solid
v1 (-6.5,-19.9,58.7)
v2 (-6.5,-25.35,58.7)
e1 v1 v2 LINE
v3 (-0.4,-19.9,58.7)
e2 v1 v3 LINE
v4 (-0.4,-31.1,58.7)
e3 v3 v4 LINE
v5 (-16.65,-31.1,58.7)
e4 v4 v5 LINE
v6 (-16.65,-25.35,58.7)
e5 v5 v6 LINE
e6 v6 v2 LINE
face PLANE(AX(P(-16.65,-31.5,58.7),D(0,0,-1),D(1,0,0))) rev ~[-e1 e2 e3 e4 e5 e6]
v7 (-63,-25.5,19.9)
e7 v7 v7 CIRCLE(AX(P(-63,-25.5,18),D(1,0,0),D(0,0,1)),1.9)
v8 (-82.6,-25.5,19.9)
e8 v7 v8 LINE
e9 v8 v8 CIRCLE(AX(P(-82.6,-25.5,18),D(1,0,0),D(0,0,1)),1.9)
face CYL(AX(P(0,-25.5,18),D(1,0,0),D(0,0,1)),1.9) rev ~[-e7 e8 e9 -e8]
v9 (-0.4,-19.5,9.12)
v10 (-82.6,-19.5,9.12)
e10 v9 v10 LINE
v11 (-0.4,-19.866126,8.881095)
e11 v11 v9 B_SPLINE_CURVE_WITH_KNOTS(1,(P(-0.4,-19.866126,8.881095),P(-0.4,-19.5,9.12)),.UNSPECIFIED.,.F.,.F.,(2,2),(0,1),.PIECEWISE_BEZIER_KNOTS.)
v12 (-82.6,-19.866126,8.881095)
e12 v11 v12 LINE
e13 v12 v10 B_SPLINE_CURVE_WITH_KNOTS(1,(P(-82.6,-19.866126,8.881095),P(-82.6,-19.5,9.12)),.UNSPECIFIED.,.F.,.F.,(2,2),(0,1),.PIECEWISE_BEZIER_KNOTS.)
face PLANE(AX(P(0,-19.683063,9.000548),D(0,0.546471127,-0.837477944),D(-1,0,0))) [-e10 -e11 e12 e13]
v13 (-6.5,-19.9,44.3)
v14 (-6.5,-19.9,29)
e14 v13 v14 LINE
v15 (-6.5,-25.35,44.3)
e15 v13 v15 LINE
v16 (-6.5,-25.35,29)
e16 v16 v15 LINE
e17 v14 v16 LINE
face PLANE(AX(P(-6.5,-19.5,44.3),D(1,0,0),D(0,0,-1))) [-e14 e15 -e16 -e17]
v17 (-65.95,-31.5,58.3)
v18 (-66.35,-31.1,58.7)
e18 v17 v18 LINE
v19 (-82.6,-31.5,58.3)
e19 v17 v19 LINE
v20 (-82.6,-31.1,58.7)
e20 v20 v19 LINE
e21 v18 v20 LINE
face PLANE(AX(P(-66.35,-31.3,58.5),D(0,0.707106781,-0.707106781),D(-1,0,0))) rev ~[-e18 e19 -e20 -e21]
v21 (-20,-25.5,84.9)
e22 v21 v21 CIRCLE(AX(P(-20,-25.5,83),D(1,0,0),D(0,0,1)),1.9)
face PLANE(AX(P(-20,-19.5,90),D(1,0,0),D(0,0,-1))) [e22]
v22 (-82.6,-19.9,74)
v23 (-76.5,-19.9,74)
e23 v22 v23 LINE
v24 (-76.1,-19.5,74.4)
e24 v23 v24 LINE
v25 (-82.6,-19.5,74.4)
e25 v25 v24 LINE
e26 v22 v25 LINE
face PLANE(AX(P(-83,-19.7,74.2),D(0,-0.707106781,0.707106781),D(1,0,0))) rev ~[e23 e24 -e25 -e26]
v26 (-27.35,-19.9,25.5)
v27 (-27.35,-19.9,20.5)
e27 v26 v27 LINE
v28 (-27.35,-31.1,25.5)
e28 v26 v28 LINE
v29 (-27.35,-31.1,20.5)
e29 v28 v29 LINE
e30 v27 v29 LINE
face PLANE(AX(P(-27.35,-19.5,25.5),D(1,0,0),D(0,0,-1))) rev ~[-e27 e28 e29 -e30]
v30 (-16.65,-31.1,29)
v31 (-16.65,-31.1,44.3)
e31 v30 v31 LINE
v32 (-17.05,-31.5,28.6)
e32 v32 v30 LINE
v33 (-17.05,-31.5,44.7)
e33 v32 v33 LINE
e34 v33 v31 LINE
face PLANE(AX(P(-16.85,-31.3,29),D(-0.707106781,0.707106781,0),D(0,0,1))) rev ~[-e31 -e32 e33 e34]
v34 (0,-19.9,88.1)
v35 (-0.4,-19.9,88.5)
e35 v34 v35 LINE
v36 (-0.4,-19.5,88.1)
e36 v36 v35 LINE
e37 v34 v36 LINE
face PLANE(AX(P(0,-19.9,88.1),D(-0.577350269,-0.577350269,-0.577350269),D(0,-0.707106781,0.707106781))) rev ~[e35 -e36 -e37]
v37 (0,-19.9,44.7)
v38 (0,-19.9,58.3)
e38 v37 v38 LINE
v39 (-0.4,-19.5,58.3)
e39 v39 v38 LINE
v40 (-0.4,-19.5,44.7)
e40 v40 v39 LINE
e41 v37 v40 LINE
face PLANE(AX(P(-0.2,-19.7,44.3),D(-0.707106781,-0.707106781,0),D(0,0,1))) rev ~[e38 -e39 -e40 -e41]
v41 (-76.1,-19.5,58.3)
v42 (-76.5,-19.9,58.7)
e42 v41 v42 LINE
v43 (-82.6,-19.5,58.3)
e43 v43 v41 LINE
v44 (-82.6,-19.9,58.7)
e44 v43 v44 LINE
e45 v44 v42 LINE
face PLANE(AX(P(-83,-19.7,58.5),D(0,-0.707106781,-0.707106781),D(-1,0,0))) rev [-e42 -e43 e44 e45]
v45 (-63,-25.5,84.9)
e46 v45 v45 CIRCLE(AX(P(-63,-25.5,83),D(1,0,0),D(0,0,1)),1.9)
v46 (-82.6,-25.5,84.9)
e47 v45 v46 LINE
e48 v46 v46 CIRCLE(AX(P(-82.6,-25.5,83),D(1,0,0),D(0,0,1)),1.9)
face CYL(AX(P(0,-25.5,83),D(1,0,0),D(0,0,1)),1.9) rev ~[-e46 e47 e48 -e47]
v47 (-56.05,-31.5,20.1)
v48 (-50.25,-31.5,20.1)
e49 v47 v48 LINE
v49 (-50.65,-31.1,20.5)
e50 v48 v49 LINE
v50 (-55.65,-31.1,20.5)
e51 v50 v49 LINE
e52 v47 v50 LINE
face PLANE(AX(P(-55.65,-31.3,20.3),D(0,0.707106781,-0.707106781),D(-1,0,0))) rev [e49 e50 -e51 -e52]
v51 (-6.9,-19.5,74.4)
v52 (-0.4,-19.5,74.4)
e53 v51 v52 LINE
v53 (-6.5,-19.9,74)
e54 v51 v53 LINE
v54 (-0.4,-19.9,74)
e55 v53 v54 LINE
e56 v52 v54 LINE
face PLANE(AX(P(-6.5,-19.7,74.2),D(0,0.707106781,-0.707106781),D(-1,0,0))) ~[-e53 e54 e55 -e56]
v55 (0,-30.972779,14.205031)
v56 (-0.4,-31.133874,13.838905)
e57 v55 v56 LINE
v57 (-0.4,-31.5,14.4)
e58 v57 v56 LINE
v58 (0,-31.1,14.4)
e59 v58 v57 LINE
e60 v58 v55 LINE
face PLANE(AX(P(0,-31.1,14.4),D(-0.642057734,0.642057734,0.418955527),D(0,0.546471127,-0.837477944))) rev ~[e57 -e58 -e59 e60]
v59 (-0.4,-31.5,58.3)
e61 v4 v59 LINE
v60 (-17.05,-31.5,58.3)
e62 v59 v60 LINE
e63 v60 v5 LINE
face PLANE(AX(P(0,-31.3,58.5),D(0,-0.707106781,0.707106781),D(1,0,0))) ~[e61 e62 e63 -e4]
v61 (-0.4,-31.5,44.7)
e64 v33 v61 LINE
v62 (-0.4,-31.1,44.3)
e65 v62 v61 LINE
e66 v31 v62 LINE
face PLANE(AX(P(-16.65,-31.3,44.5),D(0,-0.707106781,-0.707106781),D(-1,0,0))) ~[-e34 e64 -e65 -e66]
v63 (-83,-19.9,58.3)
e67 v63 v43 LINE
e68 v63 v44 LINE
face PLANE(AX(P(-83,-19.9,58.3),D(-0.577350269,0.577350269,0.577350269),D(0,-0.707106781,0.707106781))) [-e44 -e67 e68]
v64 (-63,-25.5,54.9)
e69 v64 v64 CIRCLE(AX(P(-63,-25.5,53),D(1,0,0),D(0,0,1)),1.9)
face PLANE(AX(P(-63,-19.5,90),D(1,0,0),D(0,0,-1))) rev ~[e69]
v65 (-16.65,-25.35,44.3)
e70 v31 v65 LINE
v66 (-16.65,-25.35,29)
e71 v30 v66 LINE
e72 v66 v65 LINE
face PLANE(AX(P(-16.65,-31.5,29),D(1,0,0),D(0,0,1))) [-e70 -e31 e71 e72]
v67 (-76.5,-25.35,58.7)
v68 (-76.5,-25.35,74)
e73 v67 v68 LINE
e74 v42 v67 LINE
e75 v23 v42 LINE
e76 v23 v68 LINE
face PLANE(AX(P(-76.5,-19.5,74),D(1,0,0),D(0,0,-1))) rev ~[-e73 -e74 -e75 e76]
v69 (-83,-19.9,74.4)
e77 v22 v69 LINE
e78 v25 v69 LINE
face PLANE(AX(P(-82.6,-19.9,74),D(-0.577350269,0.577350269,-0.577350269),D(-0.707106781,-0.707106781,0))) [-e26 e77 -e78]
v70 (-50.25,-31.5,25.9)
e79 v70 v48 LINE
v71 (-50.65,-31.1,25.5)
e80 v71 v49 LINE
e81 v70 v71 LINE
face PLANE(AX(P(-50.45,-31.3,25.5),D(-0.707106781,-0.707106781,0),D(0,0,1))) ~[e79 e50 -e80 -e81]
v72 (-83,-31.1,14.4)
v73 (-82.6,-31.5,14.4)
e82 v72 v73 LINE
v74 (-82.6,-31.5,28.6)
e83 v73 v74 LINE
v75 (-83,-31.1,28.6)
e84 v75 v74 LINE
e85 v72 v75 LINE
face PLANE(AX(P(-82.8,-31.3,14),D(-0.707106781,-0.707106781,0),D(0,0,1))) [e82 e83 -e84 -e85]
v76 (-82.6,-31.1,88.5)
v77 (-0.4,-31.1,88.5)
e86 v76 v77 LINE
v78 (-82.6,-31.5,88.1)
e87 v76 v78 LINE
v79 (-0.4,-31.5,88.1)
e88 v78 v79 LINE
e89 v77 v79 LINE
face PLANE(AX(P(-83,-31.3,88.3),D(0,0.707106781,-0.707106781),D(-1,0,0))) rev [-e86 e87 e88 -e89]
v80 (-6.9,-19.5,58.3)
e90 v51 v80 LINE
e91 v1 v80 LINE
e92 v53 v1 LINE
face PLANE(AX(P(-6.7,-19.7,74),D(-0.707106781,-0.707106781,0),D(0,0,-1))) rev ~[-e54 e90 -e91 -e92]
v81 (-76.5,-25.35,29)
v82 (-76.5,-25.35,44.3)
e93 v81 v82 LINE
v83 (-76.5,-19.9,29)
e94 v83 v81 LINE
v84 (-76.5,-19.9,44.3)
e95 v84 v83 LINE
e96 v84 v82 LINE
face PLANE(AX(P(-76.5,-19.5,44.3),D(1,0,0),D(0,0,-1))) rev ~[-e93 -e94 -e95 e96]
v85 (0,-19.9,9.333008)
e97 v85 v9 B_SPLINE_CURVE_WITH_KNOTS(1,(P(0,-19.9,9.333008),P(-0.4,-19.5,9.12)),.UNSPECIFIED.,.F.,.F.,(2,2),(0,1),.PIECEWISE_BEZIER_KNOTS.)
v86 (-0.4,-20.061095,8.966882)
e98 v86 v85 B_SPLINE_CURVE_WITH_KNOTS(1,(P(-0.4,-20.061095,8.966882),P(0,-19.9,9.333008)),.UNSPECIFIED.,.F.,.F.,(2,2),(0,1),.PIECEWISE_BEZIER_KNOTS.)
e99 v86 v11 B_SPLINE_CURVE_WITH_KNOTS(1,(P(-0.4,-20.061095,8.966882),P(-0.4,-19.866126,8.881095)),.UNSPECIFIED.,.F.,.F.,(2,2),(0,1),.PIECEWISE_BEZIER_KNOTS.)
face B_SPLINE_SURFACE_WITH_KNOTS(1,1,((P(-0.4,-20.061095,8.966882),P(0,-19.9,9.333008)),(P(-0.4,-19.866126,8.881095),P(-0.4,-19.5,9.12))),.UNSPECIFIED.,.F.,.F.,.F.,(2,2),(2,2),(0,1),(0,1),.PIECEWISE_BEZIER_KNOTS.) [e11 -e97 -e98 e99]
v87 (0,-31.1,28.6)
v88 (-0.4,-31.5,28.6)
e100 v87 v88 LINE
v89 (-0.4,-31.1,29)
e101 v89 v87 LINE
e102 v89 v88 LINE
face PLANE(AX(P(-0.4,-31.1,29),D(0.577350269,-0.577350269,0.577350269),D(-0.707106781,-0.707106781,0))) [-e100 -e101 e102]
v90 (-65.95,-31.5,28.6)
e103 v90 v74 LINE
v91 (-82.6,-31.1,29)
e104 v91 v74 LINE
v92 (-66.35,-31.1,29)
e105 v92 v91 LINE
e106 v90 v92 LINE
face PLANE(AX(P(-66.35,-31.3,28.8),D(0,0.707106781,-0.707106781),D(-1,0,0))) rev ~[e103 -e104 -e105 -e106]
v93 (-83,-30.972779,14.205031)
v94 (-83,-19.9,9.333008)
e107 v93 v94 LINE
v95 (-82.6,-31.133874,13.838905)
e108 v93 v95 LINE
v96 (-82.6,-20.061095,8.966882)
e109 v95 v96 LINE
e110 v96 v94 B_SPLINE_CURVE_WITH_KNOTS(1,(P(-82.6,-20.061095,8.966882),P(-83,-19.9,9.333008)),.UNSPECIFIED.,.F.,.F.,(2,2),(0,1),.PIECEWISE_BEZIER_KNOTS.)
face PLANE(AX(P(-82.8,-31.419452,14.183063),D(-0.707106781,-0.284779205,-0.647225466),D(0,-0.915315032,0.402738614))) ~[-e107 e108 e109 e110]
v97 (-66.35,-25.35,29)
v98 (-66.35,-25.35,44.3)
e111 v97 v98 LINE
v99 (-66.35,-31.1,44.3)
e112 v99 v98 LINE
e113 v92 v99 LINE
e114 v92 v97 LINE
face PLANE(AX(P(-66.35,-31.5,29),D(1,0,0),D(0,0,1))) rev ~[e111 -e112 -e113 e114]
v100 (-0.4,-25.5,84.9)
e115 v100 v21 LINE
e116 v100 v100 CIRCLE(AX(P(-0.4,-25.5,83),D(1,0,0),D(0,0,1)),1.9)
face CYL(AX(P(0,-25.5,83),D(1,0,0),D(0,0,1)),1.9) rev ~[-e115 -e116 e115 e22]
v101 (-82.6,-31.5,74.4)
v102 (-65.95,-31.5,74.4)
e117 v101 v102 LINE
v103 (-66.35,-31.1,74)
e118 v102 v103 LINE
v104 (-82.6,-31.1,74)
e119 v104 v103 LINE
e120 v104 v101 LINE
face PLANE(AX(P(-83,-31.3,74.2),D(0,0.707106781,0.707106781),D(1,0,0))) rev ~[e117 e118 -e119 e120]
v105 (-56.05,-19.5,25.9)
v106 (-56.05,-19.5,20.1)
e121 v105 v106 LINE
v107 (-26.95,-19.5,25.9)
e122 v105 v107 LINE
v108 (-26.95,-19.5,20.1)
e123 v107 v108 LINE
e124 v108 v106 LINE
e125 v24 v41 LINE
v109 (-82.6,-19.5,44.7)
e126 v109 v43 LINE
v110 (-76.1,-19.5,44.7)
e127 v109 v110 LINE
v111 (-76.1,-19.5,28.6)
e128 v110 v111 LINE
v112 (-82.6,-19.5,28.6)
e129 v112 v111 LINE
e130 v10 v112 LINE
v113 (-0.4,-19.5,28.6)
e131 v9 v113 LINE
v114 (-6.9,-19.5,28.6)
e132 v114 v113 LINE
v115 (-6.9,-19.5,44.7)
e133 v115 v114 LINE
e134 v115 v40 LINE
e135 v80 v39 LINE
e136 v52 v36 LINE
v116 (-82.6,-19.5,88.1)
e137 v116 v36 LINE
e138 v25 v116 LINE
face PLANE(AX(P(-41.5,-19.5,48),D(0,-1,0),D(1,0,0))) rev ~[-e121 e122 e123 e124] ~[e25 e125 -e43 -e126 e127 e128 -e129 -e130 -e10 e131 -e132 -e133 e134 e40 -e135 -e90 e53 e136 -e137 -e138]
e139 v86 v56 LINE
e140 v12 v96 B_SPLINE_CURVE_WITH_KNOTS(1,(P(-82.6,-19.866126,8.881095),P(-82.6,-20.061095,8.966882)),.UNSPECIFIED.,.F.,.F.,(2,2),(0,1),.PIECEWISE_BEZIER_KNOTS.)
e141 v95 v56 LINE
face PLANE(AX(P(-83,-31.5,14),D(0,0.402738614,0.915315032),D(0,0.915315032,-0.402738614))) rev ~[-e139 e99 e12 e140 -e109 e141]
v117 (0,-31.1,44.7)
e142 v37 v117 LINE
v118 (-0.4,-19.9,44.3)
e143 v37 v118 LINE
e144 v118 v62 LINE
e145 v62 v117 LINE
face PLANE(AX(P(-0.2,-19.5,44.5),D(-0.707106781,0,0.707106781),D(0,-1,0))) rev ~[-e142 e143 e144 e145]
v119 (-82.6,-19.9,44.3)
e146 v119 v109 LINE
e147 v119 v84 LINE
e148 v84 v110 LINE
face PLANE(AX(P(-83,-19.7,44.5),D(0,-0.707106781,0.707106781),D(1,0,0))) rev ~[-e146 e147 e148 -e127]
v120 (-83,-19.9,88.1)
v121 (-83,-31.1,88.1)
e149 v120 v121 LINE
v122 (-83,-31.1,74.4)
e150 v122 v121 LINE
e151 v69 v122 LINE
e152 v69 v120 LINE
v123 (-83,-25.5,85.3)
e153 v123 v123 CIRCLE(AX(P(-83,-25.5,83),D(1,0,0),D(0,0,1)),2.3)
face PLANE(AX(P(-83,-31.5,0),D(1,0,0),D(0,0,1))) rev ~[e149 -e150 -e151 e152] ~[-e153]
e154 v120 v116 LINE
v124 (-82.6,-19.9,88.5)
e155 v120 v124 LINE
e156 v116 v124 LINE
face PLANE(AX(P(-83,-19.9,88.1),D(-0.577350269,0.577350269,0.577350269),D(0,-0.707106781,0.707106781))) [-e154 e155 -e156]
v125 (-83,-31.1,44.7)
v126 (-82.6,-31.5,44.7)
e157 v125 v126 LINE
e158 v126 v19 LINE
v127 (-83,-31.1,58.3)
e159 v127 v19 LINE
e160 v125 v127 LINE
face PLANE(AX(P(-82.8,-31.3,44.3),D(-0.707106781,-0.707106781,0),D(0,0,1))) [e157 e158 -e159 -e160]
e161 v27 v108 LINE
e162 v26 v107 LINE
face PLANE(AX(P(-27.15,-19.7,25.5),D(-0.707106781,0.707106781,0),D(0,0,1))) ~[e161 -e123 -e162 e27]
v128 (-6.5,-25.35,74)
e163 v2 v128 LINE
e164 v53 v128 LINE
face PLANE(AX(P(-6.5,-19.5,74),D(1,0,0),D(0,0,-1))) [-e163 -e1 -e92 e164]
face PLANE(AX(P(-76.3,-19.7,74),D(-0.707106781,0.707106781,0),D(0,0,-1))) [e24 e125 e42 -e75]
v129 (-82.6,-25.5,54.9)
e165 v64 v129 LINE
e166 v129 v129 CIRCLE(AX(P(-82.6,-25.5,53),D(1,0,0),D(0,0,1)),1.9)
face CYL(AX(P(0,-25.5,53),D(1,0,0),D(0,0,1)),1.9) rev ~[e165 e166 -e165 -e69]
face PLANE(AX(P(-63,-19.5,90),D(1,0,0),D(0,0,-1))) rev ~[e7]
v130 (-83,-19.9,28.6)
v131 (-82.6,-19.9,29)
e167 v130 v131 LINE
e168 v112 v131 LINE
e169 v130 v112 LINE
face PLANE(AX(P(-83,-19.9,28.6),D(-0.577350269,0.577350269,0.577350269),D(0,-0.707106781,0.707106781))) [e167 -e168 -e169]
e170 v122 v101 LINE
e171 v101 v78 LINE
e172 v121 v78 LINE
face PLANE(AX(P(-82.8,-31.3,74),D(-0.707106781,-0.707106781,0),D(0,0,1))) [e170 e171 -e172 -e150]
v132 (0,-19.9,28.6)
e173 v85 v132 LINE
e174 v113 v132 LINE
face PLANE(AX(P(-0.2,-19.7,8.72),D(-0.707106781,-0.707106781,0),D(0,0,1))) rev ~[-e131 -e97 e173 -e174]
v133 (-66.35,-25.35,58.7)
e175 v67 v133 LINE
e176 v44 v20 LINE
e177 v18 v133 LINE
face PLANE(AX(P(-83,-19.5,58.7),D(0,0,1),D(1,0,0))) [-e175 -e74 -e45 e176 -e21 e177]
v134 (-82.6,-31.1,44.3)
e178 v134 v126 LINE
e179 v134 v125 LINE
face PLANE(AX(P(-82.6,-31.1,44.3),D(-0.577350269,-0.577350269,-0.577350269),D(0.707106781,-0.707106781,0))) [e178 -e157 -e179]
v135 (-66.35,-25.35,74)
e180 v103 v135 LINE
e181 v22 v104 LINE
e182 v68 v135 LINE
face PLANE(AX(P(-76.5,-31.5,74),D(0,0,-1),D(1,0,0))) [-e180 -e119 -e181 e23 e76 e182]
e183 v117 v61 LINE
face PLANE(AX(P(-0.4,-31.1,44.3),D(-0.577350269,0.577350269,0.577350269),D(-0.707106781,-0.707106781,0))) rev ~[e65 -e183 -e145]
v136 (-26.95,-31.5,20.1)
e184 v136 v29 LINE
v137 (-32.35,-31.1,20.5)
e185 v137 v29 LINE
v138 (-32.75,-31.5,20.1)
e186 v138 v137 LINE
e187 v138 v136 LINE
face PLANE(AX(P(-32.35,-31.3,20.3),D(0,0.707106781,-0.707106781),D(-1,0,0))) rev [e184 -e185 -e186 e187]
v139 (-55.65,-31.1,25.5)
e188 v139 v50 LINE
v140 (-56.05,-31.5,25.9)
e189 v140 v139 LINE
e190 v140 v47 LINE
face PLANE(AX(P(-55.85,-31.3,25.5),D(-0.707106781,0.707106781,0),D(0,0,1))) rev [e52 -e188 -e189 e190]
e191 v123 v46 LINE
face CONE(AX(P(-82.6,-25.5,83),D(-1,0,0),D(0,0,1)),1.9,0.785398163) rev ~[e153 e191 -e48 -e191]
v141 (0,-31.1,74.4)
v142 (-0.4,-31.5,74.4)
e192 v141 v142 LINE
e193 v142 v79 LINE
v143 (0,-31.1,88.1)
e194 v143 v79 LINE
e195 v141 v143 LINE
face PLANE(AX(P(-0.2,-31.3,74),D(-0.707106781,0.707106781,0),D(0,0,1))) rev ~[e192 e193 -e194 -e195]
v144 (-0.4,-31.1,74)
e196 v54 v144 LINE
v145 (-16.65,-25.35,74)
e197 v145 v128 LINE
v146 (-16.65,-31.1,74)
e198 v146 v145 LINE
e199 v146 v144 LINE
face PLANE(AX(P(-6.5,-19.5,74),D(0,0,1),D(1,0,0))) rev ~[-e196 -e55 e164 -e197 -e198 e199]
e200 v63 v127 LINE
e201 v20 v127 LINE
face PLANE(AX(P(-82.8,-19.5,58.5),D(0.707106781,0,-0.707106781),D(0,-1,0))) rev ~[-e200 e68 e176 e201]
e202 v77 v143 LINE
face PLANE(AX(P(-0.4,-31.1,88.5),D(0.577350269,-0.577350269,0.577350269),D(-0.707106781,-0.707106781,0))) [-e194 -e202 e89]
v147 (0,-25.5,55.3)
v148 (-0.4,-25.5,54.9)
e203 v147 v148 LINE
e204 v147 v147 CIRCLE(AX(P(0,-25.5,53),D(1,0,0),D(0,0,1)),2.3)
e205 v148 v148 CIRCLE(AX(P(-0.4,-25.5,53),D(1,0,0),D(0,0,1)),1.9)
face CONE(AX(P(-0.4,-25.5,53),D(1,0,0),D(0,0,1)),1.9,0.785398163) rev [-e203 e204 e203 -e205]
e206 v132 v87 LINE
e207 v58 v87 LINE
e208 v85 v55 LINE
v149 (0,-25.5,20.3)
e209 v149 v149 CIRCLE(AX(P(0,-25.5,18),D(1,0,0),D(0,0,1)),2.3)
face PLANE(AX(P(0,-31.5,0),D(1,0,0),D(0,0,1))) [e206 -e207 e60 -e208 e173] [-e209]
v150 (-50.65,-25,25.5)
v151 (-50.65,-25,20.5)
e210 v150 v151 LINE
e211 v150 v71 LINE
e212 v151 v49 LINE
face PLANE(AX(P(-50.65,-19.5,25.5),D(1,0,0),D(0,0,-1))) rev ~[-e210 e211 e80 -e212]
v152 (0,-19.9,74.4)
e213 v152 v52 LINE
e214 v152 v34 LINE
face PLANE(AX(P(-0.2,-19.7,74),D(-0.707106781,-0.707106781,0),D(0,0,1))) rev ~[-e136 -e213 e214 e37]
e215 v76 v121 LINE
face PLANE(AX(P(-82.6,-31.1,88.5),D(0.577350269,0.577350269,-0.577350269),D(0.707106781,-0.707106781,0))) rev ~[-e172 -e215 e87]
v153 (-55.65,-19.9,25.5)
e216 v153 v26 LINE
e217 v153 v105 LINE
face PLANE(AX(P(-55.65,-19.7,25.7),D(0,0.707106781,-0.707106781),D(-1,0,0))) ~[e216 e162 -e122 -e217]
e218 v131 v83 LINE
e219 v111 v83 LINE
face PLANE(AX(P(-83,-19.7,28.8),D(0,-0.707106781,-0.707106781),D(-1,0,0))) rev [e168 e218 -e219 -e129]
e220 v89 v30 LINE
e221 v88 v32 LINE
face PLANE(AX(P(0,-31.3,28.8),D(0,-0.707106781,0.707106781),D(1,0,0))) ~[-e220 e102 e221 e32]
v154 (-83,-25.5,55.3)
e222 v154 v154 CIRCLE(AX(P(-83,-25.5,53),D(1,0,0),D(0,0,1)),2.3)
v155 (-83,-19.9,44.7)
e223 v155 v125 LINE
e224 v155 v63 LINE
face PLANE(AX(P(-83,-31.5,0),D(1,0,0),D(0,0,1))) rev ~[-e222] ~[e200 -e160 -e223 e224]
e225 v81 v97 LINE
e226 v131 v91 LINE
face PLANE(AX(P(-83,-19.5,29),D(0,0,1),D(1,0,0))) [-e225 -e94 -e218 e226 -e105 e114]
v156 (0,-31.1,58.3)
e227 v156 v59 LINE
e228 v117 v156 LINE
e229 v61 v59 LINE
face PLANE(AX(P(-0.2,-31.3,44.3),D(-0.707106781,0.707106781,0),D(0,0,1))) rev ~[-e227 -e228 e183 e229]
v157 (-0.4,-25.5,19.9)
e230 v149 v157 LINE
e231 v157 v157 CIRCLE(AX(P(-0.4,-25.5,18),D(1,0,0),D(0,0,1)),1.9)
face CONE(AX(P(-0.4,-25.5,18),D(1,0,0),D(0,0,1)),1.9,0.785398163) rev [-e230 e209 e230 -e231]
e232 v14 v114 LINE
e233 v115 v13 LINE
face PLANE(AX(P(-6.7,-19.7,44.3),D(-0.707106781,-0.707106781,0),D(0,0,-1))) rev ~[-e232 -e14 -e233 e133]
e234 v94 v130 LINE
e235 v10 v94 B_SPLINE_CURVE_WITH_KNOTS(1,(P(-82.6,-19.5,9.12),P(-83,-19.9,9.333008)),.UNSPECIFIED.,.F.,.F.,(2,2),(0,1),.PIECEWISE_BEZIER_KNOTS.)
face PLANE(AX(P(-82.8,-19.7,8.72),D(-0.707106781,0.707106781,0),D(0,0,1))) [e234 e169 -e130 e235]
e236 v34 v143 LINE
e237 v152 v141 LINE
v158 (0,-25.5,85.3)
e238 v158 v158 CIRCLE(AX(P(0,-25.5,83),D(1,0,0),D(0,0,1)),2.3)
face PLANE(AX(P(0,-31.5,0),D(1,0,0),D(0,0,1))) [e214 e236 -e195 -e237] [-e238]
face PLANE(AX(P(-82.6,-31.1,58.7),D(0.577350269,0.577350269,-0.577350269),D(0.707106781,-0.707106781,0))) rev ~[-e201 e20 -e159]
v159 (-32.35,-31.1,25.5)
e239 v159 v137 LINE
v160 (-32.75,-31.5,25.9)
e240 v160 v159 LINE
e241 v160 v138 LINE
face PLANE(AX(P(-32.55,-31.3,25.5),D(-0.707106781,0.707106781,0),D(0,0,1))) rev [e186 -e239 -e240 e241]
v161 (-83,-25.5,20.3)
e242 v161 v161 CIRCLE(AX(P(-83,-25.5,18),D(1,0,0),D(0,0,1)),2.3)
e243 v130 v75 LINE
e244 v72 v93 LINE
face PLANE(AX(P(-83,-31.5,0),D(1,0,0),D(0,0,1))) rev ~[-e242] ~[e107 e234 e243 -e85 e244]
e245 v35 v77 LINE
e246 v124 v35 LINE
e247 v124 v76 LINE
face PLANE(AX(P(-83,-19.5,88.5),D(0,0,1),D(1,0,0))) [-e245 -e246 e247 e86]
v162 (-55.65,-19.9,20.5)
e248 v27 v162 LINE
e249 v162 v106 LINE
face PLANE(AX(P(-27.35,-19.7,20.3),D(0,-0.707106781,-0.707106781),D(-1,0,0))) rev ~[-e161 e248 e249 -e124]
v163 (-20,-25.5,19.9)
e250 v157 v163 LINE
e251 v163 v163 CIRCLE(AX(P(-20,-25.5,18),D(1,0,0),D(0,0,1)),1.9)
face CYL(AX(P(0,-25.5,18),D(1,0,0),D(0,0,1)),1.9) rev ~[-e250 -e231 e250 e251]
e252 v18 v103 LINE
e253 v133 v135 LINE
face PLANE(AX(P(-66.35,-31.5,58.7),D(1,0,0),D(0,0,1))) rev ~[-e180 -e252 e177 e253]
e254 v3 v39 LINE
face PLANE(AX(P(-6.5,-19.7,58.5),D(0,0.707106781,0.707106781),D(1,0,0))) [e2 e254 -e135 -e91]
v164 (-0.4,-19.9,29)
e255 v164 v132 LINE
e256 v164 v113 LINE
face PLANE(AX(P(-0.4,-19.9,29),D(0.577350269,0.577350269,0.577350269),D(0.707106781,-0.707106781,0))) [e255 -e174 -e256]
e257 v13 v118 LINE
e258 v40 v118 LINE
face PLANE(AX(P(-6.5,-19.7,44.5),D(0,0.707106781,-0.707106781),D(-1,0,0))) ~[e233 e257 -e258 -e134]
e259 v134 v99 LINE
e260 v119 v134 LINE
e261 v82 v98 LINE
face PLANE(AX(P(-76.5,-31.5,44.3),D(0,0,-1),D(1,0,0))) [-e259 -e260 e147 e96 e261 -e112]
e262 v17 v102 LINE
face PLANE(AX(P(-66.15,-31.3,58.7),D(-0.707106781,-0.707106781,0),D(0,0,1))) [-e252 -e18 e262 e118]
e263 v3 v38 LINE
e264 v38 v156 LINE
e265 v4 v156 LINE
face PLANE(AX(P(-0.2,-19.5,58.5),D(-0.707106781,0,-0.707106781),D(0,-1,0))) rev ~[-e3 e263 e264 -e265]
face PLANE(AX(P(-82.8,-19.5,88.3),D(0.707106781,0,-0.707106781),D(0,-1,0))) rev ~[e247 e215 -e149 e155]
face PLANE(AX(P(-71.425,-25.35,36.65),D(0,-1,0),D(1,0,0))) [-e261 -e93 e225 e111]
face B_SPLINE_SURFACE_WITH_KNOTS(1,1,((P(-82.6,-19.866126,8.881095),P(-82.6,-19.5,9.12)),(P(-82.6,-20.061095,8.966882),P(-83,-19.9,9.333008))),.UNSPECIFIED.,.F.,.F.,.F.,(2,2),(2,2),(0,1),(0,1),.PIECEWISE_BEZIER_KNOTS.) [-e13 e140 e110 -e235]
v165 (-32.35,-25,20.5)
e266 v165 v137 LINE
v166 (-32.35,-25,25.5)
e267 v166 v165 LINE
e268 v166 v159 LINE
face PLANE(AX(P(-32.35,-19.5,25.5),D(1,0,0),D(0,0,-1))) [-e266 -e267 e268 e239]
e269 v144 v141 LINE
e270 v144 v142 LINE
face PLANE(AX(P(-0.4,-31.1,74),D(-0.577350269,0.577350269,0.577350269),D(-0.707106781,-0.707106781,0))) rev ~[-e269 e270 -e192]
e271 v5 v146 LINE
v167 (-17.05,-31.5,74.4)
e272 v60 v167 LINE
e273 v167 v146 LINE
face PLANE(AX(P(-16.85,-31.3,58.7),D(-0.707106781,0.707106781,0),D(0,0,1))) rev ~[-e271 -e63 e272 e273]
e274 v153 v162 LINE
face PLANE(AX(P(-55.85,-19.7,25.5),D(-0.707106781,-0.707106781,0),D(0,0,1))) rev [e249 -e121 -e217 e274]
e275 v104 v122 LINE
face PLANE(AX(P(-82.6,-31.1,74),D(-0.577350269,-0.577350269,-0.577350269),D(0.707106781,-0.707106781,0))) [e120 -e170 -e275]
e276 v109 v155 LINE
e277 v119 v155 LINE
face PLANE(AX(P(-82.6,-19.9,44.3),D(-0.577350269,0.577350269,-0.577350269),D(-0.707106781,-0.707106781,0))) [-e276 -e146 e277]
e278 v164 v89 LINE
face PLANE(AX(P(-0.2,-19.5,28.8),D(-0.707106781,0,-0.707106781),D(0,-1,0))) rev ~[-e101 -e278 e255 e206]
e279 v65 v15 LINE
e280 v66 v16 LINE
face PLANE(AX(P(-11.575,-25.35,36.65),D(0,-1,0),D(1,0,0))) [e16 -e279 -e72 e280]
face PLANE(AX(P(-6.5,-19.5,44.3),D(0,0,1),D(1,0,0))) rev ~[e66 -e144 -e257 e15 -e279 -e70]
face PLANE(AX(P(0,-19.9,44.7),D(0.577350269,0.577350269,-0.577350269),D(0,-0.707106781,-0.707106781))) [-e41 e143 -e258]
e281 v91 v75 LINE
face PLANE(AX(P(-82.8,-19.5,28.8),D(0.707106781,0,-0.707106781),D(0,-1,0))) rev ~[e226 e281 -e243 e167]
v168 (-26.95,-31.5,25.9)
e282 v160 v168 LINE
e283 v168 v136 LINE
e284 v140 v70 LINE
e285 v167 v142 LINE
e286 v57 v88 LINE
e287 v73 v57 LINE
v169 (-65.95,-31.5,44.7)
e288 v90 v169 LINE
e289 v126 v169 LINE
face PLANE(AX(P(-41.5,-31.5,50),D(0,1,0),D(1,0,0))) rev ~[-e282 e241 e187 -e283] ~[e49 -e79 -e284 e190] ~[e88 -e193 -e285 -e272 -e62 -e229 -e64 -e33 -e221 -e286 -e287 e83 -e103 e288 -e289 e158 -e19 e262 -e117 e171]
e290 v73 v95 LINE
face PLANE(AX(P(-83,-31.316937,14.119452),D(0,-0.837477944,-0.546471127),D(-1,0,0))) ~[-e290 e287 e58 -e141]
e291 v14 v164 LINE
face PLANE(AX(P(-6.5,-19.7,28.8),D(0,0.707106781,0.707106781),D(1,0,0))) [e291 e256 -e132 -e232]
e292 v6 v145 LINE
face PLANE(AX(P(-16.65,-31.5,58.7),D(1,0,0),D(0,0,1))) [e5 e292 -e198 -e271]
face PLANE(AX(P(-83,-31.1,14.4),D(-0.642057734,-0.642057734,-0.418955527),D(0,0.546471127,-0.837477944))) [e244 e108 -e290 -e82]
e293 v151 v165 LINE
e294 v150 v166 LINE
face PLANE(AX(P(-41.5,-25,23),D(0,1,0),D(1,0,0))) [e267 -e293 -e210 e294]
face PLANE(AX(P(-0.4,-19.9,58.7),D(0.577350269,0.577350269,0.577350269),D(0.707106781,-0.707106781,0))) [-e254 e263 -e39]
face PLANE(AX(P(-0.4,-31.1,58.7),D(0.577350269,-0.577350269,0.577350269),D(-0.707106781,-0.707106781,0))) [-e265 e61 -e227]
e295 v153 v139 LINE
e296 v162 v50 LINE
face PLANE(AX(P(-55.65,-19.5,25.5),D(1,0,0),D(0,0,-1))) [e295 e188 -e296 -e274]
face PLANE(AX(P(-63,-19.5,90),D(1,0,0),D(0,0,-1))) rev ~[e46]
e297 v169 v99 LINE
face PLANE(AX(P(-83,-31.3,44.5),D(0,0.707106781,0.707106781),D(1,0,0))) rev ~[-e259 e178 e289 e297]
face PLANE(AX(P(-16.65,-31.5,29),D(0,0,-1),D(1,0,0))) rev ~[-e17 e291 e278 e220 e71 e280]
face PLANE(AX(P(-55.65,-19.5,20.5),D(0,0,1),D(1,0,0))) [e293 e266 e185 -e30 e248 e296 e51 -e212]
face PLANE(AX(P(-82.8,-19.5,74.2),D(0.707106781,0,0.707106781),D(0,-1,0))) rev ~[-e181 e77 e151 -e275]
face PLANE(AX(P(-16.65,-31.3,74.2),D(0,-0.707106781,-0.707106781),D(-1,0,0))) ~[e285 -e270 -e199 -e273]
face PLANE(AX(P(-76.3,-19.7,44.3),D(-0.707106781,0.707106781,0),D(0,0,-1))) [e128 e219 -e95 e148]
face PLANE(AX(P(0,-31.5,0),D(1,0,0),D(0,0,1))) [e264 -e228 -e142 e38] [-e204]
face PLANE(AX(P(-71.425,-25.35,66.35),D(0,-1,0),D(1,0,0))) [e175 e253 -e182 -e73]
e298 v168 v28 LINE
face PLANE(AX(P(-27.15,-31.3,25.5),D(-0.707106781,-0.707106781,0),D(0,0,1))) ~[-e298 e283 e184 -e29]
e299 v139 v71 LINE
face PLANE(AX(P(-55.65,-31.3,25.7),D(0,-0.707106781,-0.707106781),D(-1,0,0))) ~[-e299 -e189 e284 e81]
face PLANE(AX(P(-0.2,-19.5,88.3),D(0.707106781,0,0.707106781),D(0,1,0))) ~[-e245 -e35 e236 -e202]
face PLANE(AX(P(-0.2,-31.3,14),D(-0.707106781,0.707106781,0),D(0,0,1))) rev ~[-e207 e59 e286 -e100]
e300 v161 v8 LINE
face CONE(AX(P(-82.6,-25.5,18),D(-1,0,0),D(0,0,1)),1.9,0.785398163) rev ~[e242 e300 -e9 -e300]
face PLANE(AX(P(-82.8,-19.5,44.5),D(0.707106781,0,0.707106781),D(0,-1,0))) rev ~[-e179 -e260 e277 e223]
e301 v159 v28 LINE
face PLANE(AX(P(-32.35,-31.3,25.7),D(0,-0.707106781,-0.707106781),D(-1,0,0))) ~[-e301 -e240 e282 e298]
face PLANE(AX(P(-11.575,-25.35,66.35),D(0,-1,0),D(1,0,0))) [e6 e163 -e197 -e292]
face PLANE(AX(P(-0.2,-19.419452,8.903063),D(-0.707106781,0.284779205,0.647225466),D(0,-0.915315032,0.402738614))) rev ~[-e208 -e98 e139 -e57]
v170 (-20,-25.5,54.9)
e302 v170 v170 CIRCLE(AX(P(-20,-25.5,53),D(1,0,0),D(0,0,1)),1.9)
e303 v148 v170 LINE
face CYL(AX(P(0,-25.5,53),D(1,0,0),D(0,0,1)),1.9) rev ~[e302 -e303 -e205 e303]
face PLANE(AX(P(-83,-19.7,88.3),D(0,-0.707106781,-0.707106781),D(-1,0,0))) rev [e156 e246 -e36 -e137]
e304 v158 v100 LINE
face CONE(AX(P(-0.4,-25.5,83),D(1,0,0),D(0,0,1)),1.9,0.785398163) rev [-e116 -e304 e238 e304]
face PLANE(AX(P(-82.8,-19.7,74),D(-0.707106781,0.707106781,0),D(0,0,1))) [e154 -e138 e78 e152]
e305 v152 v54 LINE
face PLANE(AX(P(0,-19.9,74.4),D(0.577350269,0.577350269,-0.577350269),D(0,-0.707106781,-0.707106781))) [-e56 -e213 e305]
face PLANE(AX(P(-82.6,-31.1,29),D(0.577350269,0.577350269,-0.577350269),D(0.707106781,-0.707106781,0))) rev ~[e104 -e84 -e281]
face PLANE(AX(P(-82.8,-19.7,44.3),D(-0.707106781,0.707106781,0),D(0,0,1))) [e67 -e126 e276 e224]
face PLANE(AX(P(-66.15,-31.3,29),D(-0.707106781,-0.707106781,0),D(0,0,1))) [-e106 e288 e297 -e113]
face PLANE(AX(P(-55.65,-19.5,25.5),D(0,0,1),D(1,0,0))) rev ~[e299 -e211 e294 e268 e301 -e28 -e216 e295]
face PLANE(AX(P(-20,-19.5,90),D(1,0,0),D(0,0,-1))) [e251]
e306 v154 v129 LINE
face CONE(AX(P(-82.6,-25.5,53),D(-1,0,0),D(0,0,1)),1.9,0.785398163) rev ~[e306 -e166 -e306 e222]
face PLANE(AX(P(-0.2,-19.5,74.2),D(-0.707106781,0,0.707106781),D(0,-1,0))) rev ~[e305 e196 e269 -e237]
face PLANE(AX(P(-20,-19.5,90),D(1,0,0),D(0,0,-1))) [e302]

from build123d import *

# Parameters (mm, degrees)
SKETCH005_W     = 83
SKETCH005_H     = 96
PAD003_DEPTH    = 12
SKETCH006_R     = 1.9
POCKET002_DEPTH = 83.001
SKETCH007_W     = 30
SKETCH007_H     = 5
POCKET003_DEPTH = 12.001
SKETCH009_W     = 6.5
SKETCH009_H     = 15.3
POCKET005_DEPTH = 12.001
SKETCH010_W     = 10.15
SKETCH010_H     = 15.3
POCKET006_DEPTH = 6.15
SKETCH025_W     = 43
SKETCH025_H     = 80
PAD008_DEPTH    = 12
SKETCH026_W     = 5
SKETCH026_H     = 5
POCKET017_DEPTH = 12.001
SKETCH027_W     = 18.3
SKETCH027_H     = 5
POCKET018_DEPTH = 5.5
POCKET019_DEPTH = 83.001
SKETCH041_W     = 83
SKETCH041_H     = 7.5
POCKET030_DEPTH = 12.001
CHAMFER_SIZE    = 0.4


with BuildPart() as part:
    # Sketch005 → Pad003 (new body)
    with BuildSketch(Plane.XZ):
        with Locations((-41.5, 48)):
            Rectangle(SKETCH005_W, SKETCH005_H)
    extrude(amount=-PAD003_DEPTH)

    # Sketch006 (on Face4 of Pad003) → Pocket002 (cut, through all)
    with BuildSketch(Plane(origin=(0, 0, 0), x_dir=(0, 0, 1), z_dir=(1, 0, 0))):
        with Locations((18, -6)):
            Circle(SKETCH006_R)
        with Locations((53, -6)):
            Circle(SKETCH006_R)
        with Locations((83, -6)):
            Circle(SKETCH006_R)
    extrude(amount=-POCKET002_DEPTH, mode=Mode.SUBTRACT)

    # Sketch007 (on Face5 of Pocket002) → Pocket003 (cut, through all)
    with BuildSketch(Plane(origin=(0, 12, 0), x_dir=(1, 0, 0), z_dir=(0, 1, 0))):
        with Locations((-68, -93.5)):
            Rectangle(SKETCH007_W, SKETCH007_H)
        with Locations((-15, -93.5)):
            Rectangle(SKETCH007_W, SKETCH007_H)
    extrude(amount=-POCKET003_DEPTH, mode=Mode.SUBTRACT)

    # Sketch009 (on Face5 of Pocket003) → Pocket005 (cut, through all)
    with BuildSketch(Plane(origin=(0, 12, 0), x_dir=(1, 0, 0), z_dir=(0, 1, 0))):
        with Locations((-79.75, -36.65)):
            Rectangle(SKETCH009_W, SKETCH009_H)
        with Locations((-79.75, -66.35)):
            Rectangle(SKETCH009_W, SKETCH009_H)
        with Locations((-3.25, -36.65)):
            Rectangle(SKETCH009_W, SKETCH009_H)
        with Locations((-3.25, -66.35)):
            Rectangle(SKETCH009_W, SKETCH009_H)
    extrude(amount=-POCKET005_DEPTH, mode=Mode.SUBTRACT)

    # Sketch010 (on Face4 of Pocket005) → Pocket006 (cut)
    with BuildSketch(Plane.XZ):
        with Locations((-71.425, 66.35)):
            Rectangle(SKETCH010_W, SKETCH010_H)
        with Locations((-71.425, 36.65)):
            Rectangle(SKETCH010_W, SKETCH010_H)
        with Locations((-11.575, 66.35)):
            Rectangle(SKETCH010_W, SKETCH010_H)
        with Locations((-11.575, 36.65)):
            Rectangle(SKETCH010_W, SKETCH010_H)
    extrude(amount=-POCKET006_DEPTH, mode=Mode.SUBTRACT)

    # Sketch025 (on Face5 of Pocket006) → Pad008 (join)
    with BuildSketch(Plane(origin=(0, 12, 0), x_dir=(1, 0, 0), z_dir=(0, 1, 0))):
        with Locations((-41.5, -50)):
            Rectangle(SKETCH025_W, SKETCH025_H)
    extrude(amount=-PAD008_DEPTH)

    # Sketch026 (on Face5 of Pad008) → Pocket017 (cut, through all)
    with BuildSketch(Plane(origin=(0, 12, 0), x_dir=(1, 0, 0), z_dir=(0, 1, 0))):
        with Locations((-53.15, -23)):
            Rectangle(SKETCH026_W, SKETCH026_H)
        with Locations((-29.85, -23)):
            Rectangle(SKETCH026_W, SKETCH026_H)
    extrude(amount=-POCKET017_DEPTH, mode=Mode.SUBTRACT)

    # Sketch027 (on Face5 of Pocket017) → Pocket018 (cut)
    with BuildSketch(Plane(origin=(0, 12, 0), x_dir=(1, 0, 0), z_dir=(0, 1, 0))):
        with Locations((-41.5, -23)):
            Rectangle(SKETCH027_W, SKETCH027_H)
    extrude(amount=-POCKET018_DEPTH, mode=Mode.SUBTRACT)

    # Sketch028 (on Face3 of Pocket018) → Pocket019 (cut, through all)
    with BuildSketch(Plane(origin=(-83, 0, 0), x_dir=(0, 0, -1), z_dir=(-1, 0, 0))):
        Polygon((0, 0), (-14, 0), (-3, -25), (0, -25), align=None)
    extrude(amount=-POCKET019_DEPTH, mode=Mode.SUBTRACT)

    # Sketch041 (on Face4 of Pocket019) → Pocket030 (cut, through all)
    with BuildSketch(Plane(origin=(0, 12, 0), x_dir=(1, 0, 0), z_dir=(0, 1, 0))):
        with Locations((-41.5, -92.25)):
            Rectangle(SKETCH041_W, SKETCH041_H)
    extrude(amount=-POCKET030_DEPTH, mode=Mode.SUBTRACT)

    # Chamfer
    chamfer_edges = [part.edges().sort_by_distance(p)[0] for p in [
        (-41.5, 12, 88.5),
        (-83, 12, 81.25),
        (-79.75, 12, 74),
        (-76.5, 12, 66.35),
        (-79.75, 12, 58.7),
        (-83, 12, 51.5),
        (-79.75, 12, 44.3),
        (-76.5, 12, 36.65),
        (-79.75, 12, 29),
        (-83, 12, 18.86),
        (-41.5, 12, 8.72),
        (0, 12, 18.86),
        (-3.25, 12, 29),
        (-6.5, 12, 36.65),
        (-3.25, 12, 44.3),
        (0, 12, 51.5),
        (-3.25, 12, 58.7),
        (-6.5, 12, 66.35),
        (-3.25, 12, 74),
        (0, 12, 81.25),
        (-55.65, 12, 23),
        (-41.5, 12, 25.5),
        (-41.5, 12, 20.5),
        (-27.35, 12, 23),
        (-83, 0, 21.5),
        (-83, 6, 29),
        (-83, 6, 11.36),
        (-83, 6, 16.1),
        (-83, 0, 51.5),
        (-83, 6, 58.7),
        (-83, 6, 44.3),
        (-83, 6, 51.1),
        (-83, 0, 81.25),
        (-83, 6, 88.5),
        (-83, 6, 74),
        (-83, 6, 81.1),
        (0, 0, 81.25),
        (0, 6, 74),
        (0, 6, 88.5),
        (0, 6, 81.1),
        (0, 0, 51.5),
        (0, 6, 44.3),
        (0, 6, 58.7),
        (0, 6, 51.1),
        (0, 0, 21.5),
        (0, 6, 11.36),
        (0, 6, 29),
        (0, 6, 16.1),
        (-74.675, 0, 74),
        (-66.35, 0, 66.35),
        (-74.675, 0, 58.7),
        (-74.675, 0, 44.3),
        (-66.35, 0, 36.65),
        (-74.675, 0, 29),
        (-41.5, 0, 14),
        (-8.325, 0, 29),
        (-16.65, 0, 36.65),
        (-8.325, 0, 44.3),
        (-8.325, 0, 58.7),
        (-16.65, 0, 66.35),
        (-8.325, 0, 74),
        (-41.5, 0, 88.5),
        (-55.65, 0, 23),
        (-53.15, 0, 25.5),
        (-53.15, 0, 20.5),
        (-50.65, 0, 23),
        (-32.35, 0, 23),
        (-29.85, 0, 25.5),
        (-29.85, 0, 20.5),
        (-27.35, 0, 23),
    ]]
    chamfer(chamfer_edges, length=CHAMFER_SIZE)


with BuildPart() as part_1:
    # Body001 placement: moved
    add(part.part.moved(Location((0, -31.5, 0))))


solid = part_1.part
